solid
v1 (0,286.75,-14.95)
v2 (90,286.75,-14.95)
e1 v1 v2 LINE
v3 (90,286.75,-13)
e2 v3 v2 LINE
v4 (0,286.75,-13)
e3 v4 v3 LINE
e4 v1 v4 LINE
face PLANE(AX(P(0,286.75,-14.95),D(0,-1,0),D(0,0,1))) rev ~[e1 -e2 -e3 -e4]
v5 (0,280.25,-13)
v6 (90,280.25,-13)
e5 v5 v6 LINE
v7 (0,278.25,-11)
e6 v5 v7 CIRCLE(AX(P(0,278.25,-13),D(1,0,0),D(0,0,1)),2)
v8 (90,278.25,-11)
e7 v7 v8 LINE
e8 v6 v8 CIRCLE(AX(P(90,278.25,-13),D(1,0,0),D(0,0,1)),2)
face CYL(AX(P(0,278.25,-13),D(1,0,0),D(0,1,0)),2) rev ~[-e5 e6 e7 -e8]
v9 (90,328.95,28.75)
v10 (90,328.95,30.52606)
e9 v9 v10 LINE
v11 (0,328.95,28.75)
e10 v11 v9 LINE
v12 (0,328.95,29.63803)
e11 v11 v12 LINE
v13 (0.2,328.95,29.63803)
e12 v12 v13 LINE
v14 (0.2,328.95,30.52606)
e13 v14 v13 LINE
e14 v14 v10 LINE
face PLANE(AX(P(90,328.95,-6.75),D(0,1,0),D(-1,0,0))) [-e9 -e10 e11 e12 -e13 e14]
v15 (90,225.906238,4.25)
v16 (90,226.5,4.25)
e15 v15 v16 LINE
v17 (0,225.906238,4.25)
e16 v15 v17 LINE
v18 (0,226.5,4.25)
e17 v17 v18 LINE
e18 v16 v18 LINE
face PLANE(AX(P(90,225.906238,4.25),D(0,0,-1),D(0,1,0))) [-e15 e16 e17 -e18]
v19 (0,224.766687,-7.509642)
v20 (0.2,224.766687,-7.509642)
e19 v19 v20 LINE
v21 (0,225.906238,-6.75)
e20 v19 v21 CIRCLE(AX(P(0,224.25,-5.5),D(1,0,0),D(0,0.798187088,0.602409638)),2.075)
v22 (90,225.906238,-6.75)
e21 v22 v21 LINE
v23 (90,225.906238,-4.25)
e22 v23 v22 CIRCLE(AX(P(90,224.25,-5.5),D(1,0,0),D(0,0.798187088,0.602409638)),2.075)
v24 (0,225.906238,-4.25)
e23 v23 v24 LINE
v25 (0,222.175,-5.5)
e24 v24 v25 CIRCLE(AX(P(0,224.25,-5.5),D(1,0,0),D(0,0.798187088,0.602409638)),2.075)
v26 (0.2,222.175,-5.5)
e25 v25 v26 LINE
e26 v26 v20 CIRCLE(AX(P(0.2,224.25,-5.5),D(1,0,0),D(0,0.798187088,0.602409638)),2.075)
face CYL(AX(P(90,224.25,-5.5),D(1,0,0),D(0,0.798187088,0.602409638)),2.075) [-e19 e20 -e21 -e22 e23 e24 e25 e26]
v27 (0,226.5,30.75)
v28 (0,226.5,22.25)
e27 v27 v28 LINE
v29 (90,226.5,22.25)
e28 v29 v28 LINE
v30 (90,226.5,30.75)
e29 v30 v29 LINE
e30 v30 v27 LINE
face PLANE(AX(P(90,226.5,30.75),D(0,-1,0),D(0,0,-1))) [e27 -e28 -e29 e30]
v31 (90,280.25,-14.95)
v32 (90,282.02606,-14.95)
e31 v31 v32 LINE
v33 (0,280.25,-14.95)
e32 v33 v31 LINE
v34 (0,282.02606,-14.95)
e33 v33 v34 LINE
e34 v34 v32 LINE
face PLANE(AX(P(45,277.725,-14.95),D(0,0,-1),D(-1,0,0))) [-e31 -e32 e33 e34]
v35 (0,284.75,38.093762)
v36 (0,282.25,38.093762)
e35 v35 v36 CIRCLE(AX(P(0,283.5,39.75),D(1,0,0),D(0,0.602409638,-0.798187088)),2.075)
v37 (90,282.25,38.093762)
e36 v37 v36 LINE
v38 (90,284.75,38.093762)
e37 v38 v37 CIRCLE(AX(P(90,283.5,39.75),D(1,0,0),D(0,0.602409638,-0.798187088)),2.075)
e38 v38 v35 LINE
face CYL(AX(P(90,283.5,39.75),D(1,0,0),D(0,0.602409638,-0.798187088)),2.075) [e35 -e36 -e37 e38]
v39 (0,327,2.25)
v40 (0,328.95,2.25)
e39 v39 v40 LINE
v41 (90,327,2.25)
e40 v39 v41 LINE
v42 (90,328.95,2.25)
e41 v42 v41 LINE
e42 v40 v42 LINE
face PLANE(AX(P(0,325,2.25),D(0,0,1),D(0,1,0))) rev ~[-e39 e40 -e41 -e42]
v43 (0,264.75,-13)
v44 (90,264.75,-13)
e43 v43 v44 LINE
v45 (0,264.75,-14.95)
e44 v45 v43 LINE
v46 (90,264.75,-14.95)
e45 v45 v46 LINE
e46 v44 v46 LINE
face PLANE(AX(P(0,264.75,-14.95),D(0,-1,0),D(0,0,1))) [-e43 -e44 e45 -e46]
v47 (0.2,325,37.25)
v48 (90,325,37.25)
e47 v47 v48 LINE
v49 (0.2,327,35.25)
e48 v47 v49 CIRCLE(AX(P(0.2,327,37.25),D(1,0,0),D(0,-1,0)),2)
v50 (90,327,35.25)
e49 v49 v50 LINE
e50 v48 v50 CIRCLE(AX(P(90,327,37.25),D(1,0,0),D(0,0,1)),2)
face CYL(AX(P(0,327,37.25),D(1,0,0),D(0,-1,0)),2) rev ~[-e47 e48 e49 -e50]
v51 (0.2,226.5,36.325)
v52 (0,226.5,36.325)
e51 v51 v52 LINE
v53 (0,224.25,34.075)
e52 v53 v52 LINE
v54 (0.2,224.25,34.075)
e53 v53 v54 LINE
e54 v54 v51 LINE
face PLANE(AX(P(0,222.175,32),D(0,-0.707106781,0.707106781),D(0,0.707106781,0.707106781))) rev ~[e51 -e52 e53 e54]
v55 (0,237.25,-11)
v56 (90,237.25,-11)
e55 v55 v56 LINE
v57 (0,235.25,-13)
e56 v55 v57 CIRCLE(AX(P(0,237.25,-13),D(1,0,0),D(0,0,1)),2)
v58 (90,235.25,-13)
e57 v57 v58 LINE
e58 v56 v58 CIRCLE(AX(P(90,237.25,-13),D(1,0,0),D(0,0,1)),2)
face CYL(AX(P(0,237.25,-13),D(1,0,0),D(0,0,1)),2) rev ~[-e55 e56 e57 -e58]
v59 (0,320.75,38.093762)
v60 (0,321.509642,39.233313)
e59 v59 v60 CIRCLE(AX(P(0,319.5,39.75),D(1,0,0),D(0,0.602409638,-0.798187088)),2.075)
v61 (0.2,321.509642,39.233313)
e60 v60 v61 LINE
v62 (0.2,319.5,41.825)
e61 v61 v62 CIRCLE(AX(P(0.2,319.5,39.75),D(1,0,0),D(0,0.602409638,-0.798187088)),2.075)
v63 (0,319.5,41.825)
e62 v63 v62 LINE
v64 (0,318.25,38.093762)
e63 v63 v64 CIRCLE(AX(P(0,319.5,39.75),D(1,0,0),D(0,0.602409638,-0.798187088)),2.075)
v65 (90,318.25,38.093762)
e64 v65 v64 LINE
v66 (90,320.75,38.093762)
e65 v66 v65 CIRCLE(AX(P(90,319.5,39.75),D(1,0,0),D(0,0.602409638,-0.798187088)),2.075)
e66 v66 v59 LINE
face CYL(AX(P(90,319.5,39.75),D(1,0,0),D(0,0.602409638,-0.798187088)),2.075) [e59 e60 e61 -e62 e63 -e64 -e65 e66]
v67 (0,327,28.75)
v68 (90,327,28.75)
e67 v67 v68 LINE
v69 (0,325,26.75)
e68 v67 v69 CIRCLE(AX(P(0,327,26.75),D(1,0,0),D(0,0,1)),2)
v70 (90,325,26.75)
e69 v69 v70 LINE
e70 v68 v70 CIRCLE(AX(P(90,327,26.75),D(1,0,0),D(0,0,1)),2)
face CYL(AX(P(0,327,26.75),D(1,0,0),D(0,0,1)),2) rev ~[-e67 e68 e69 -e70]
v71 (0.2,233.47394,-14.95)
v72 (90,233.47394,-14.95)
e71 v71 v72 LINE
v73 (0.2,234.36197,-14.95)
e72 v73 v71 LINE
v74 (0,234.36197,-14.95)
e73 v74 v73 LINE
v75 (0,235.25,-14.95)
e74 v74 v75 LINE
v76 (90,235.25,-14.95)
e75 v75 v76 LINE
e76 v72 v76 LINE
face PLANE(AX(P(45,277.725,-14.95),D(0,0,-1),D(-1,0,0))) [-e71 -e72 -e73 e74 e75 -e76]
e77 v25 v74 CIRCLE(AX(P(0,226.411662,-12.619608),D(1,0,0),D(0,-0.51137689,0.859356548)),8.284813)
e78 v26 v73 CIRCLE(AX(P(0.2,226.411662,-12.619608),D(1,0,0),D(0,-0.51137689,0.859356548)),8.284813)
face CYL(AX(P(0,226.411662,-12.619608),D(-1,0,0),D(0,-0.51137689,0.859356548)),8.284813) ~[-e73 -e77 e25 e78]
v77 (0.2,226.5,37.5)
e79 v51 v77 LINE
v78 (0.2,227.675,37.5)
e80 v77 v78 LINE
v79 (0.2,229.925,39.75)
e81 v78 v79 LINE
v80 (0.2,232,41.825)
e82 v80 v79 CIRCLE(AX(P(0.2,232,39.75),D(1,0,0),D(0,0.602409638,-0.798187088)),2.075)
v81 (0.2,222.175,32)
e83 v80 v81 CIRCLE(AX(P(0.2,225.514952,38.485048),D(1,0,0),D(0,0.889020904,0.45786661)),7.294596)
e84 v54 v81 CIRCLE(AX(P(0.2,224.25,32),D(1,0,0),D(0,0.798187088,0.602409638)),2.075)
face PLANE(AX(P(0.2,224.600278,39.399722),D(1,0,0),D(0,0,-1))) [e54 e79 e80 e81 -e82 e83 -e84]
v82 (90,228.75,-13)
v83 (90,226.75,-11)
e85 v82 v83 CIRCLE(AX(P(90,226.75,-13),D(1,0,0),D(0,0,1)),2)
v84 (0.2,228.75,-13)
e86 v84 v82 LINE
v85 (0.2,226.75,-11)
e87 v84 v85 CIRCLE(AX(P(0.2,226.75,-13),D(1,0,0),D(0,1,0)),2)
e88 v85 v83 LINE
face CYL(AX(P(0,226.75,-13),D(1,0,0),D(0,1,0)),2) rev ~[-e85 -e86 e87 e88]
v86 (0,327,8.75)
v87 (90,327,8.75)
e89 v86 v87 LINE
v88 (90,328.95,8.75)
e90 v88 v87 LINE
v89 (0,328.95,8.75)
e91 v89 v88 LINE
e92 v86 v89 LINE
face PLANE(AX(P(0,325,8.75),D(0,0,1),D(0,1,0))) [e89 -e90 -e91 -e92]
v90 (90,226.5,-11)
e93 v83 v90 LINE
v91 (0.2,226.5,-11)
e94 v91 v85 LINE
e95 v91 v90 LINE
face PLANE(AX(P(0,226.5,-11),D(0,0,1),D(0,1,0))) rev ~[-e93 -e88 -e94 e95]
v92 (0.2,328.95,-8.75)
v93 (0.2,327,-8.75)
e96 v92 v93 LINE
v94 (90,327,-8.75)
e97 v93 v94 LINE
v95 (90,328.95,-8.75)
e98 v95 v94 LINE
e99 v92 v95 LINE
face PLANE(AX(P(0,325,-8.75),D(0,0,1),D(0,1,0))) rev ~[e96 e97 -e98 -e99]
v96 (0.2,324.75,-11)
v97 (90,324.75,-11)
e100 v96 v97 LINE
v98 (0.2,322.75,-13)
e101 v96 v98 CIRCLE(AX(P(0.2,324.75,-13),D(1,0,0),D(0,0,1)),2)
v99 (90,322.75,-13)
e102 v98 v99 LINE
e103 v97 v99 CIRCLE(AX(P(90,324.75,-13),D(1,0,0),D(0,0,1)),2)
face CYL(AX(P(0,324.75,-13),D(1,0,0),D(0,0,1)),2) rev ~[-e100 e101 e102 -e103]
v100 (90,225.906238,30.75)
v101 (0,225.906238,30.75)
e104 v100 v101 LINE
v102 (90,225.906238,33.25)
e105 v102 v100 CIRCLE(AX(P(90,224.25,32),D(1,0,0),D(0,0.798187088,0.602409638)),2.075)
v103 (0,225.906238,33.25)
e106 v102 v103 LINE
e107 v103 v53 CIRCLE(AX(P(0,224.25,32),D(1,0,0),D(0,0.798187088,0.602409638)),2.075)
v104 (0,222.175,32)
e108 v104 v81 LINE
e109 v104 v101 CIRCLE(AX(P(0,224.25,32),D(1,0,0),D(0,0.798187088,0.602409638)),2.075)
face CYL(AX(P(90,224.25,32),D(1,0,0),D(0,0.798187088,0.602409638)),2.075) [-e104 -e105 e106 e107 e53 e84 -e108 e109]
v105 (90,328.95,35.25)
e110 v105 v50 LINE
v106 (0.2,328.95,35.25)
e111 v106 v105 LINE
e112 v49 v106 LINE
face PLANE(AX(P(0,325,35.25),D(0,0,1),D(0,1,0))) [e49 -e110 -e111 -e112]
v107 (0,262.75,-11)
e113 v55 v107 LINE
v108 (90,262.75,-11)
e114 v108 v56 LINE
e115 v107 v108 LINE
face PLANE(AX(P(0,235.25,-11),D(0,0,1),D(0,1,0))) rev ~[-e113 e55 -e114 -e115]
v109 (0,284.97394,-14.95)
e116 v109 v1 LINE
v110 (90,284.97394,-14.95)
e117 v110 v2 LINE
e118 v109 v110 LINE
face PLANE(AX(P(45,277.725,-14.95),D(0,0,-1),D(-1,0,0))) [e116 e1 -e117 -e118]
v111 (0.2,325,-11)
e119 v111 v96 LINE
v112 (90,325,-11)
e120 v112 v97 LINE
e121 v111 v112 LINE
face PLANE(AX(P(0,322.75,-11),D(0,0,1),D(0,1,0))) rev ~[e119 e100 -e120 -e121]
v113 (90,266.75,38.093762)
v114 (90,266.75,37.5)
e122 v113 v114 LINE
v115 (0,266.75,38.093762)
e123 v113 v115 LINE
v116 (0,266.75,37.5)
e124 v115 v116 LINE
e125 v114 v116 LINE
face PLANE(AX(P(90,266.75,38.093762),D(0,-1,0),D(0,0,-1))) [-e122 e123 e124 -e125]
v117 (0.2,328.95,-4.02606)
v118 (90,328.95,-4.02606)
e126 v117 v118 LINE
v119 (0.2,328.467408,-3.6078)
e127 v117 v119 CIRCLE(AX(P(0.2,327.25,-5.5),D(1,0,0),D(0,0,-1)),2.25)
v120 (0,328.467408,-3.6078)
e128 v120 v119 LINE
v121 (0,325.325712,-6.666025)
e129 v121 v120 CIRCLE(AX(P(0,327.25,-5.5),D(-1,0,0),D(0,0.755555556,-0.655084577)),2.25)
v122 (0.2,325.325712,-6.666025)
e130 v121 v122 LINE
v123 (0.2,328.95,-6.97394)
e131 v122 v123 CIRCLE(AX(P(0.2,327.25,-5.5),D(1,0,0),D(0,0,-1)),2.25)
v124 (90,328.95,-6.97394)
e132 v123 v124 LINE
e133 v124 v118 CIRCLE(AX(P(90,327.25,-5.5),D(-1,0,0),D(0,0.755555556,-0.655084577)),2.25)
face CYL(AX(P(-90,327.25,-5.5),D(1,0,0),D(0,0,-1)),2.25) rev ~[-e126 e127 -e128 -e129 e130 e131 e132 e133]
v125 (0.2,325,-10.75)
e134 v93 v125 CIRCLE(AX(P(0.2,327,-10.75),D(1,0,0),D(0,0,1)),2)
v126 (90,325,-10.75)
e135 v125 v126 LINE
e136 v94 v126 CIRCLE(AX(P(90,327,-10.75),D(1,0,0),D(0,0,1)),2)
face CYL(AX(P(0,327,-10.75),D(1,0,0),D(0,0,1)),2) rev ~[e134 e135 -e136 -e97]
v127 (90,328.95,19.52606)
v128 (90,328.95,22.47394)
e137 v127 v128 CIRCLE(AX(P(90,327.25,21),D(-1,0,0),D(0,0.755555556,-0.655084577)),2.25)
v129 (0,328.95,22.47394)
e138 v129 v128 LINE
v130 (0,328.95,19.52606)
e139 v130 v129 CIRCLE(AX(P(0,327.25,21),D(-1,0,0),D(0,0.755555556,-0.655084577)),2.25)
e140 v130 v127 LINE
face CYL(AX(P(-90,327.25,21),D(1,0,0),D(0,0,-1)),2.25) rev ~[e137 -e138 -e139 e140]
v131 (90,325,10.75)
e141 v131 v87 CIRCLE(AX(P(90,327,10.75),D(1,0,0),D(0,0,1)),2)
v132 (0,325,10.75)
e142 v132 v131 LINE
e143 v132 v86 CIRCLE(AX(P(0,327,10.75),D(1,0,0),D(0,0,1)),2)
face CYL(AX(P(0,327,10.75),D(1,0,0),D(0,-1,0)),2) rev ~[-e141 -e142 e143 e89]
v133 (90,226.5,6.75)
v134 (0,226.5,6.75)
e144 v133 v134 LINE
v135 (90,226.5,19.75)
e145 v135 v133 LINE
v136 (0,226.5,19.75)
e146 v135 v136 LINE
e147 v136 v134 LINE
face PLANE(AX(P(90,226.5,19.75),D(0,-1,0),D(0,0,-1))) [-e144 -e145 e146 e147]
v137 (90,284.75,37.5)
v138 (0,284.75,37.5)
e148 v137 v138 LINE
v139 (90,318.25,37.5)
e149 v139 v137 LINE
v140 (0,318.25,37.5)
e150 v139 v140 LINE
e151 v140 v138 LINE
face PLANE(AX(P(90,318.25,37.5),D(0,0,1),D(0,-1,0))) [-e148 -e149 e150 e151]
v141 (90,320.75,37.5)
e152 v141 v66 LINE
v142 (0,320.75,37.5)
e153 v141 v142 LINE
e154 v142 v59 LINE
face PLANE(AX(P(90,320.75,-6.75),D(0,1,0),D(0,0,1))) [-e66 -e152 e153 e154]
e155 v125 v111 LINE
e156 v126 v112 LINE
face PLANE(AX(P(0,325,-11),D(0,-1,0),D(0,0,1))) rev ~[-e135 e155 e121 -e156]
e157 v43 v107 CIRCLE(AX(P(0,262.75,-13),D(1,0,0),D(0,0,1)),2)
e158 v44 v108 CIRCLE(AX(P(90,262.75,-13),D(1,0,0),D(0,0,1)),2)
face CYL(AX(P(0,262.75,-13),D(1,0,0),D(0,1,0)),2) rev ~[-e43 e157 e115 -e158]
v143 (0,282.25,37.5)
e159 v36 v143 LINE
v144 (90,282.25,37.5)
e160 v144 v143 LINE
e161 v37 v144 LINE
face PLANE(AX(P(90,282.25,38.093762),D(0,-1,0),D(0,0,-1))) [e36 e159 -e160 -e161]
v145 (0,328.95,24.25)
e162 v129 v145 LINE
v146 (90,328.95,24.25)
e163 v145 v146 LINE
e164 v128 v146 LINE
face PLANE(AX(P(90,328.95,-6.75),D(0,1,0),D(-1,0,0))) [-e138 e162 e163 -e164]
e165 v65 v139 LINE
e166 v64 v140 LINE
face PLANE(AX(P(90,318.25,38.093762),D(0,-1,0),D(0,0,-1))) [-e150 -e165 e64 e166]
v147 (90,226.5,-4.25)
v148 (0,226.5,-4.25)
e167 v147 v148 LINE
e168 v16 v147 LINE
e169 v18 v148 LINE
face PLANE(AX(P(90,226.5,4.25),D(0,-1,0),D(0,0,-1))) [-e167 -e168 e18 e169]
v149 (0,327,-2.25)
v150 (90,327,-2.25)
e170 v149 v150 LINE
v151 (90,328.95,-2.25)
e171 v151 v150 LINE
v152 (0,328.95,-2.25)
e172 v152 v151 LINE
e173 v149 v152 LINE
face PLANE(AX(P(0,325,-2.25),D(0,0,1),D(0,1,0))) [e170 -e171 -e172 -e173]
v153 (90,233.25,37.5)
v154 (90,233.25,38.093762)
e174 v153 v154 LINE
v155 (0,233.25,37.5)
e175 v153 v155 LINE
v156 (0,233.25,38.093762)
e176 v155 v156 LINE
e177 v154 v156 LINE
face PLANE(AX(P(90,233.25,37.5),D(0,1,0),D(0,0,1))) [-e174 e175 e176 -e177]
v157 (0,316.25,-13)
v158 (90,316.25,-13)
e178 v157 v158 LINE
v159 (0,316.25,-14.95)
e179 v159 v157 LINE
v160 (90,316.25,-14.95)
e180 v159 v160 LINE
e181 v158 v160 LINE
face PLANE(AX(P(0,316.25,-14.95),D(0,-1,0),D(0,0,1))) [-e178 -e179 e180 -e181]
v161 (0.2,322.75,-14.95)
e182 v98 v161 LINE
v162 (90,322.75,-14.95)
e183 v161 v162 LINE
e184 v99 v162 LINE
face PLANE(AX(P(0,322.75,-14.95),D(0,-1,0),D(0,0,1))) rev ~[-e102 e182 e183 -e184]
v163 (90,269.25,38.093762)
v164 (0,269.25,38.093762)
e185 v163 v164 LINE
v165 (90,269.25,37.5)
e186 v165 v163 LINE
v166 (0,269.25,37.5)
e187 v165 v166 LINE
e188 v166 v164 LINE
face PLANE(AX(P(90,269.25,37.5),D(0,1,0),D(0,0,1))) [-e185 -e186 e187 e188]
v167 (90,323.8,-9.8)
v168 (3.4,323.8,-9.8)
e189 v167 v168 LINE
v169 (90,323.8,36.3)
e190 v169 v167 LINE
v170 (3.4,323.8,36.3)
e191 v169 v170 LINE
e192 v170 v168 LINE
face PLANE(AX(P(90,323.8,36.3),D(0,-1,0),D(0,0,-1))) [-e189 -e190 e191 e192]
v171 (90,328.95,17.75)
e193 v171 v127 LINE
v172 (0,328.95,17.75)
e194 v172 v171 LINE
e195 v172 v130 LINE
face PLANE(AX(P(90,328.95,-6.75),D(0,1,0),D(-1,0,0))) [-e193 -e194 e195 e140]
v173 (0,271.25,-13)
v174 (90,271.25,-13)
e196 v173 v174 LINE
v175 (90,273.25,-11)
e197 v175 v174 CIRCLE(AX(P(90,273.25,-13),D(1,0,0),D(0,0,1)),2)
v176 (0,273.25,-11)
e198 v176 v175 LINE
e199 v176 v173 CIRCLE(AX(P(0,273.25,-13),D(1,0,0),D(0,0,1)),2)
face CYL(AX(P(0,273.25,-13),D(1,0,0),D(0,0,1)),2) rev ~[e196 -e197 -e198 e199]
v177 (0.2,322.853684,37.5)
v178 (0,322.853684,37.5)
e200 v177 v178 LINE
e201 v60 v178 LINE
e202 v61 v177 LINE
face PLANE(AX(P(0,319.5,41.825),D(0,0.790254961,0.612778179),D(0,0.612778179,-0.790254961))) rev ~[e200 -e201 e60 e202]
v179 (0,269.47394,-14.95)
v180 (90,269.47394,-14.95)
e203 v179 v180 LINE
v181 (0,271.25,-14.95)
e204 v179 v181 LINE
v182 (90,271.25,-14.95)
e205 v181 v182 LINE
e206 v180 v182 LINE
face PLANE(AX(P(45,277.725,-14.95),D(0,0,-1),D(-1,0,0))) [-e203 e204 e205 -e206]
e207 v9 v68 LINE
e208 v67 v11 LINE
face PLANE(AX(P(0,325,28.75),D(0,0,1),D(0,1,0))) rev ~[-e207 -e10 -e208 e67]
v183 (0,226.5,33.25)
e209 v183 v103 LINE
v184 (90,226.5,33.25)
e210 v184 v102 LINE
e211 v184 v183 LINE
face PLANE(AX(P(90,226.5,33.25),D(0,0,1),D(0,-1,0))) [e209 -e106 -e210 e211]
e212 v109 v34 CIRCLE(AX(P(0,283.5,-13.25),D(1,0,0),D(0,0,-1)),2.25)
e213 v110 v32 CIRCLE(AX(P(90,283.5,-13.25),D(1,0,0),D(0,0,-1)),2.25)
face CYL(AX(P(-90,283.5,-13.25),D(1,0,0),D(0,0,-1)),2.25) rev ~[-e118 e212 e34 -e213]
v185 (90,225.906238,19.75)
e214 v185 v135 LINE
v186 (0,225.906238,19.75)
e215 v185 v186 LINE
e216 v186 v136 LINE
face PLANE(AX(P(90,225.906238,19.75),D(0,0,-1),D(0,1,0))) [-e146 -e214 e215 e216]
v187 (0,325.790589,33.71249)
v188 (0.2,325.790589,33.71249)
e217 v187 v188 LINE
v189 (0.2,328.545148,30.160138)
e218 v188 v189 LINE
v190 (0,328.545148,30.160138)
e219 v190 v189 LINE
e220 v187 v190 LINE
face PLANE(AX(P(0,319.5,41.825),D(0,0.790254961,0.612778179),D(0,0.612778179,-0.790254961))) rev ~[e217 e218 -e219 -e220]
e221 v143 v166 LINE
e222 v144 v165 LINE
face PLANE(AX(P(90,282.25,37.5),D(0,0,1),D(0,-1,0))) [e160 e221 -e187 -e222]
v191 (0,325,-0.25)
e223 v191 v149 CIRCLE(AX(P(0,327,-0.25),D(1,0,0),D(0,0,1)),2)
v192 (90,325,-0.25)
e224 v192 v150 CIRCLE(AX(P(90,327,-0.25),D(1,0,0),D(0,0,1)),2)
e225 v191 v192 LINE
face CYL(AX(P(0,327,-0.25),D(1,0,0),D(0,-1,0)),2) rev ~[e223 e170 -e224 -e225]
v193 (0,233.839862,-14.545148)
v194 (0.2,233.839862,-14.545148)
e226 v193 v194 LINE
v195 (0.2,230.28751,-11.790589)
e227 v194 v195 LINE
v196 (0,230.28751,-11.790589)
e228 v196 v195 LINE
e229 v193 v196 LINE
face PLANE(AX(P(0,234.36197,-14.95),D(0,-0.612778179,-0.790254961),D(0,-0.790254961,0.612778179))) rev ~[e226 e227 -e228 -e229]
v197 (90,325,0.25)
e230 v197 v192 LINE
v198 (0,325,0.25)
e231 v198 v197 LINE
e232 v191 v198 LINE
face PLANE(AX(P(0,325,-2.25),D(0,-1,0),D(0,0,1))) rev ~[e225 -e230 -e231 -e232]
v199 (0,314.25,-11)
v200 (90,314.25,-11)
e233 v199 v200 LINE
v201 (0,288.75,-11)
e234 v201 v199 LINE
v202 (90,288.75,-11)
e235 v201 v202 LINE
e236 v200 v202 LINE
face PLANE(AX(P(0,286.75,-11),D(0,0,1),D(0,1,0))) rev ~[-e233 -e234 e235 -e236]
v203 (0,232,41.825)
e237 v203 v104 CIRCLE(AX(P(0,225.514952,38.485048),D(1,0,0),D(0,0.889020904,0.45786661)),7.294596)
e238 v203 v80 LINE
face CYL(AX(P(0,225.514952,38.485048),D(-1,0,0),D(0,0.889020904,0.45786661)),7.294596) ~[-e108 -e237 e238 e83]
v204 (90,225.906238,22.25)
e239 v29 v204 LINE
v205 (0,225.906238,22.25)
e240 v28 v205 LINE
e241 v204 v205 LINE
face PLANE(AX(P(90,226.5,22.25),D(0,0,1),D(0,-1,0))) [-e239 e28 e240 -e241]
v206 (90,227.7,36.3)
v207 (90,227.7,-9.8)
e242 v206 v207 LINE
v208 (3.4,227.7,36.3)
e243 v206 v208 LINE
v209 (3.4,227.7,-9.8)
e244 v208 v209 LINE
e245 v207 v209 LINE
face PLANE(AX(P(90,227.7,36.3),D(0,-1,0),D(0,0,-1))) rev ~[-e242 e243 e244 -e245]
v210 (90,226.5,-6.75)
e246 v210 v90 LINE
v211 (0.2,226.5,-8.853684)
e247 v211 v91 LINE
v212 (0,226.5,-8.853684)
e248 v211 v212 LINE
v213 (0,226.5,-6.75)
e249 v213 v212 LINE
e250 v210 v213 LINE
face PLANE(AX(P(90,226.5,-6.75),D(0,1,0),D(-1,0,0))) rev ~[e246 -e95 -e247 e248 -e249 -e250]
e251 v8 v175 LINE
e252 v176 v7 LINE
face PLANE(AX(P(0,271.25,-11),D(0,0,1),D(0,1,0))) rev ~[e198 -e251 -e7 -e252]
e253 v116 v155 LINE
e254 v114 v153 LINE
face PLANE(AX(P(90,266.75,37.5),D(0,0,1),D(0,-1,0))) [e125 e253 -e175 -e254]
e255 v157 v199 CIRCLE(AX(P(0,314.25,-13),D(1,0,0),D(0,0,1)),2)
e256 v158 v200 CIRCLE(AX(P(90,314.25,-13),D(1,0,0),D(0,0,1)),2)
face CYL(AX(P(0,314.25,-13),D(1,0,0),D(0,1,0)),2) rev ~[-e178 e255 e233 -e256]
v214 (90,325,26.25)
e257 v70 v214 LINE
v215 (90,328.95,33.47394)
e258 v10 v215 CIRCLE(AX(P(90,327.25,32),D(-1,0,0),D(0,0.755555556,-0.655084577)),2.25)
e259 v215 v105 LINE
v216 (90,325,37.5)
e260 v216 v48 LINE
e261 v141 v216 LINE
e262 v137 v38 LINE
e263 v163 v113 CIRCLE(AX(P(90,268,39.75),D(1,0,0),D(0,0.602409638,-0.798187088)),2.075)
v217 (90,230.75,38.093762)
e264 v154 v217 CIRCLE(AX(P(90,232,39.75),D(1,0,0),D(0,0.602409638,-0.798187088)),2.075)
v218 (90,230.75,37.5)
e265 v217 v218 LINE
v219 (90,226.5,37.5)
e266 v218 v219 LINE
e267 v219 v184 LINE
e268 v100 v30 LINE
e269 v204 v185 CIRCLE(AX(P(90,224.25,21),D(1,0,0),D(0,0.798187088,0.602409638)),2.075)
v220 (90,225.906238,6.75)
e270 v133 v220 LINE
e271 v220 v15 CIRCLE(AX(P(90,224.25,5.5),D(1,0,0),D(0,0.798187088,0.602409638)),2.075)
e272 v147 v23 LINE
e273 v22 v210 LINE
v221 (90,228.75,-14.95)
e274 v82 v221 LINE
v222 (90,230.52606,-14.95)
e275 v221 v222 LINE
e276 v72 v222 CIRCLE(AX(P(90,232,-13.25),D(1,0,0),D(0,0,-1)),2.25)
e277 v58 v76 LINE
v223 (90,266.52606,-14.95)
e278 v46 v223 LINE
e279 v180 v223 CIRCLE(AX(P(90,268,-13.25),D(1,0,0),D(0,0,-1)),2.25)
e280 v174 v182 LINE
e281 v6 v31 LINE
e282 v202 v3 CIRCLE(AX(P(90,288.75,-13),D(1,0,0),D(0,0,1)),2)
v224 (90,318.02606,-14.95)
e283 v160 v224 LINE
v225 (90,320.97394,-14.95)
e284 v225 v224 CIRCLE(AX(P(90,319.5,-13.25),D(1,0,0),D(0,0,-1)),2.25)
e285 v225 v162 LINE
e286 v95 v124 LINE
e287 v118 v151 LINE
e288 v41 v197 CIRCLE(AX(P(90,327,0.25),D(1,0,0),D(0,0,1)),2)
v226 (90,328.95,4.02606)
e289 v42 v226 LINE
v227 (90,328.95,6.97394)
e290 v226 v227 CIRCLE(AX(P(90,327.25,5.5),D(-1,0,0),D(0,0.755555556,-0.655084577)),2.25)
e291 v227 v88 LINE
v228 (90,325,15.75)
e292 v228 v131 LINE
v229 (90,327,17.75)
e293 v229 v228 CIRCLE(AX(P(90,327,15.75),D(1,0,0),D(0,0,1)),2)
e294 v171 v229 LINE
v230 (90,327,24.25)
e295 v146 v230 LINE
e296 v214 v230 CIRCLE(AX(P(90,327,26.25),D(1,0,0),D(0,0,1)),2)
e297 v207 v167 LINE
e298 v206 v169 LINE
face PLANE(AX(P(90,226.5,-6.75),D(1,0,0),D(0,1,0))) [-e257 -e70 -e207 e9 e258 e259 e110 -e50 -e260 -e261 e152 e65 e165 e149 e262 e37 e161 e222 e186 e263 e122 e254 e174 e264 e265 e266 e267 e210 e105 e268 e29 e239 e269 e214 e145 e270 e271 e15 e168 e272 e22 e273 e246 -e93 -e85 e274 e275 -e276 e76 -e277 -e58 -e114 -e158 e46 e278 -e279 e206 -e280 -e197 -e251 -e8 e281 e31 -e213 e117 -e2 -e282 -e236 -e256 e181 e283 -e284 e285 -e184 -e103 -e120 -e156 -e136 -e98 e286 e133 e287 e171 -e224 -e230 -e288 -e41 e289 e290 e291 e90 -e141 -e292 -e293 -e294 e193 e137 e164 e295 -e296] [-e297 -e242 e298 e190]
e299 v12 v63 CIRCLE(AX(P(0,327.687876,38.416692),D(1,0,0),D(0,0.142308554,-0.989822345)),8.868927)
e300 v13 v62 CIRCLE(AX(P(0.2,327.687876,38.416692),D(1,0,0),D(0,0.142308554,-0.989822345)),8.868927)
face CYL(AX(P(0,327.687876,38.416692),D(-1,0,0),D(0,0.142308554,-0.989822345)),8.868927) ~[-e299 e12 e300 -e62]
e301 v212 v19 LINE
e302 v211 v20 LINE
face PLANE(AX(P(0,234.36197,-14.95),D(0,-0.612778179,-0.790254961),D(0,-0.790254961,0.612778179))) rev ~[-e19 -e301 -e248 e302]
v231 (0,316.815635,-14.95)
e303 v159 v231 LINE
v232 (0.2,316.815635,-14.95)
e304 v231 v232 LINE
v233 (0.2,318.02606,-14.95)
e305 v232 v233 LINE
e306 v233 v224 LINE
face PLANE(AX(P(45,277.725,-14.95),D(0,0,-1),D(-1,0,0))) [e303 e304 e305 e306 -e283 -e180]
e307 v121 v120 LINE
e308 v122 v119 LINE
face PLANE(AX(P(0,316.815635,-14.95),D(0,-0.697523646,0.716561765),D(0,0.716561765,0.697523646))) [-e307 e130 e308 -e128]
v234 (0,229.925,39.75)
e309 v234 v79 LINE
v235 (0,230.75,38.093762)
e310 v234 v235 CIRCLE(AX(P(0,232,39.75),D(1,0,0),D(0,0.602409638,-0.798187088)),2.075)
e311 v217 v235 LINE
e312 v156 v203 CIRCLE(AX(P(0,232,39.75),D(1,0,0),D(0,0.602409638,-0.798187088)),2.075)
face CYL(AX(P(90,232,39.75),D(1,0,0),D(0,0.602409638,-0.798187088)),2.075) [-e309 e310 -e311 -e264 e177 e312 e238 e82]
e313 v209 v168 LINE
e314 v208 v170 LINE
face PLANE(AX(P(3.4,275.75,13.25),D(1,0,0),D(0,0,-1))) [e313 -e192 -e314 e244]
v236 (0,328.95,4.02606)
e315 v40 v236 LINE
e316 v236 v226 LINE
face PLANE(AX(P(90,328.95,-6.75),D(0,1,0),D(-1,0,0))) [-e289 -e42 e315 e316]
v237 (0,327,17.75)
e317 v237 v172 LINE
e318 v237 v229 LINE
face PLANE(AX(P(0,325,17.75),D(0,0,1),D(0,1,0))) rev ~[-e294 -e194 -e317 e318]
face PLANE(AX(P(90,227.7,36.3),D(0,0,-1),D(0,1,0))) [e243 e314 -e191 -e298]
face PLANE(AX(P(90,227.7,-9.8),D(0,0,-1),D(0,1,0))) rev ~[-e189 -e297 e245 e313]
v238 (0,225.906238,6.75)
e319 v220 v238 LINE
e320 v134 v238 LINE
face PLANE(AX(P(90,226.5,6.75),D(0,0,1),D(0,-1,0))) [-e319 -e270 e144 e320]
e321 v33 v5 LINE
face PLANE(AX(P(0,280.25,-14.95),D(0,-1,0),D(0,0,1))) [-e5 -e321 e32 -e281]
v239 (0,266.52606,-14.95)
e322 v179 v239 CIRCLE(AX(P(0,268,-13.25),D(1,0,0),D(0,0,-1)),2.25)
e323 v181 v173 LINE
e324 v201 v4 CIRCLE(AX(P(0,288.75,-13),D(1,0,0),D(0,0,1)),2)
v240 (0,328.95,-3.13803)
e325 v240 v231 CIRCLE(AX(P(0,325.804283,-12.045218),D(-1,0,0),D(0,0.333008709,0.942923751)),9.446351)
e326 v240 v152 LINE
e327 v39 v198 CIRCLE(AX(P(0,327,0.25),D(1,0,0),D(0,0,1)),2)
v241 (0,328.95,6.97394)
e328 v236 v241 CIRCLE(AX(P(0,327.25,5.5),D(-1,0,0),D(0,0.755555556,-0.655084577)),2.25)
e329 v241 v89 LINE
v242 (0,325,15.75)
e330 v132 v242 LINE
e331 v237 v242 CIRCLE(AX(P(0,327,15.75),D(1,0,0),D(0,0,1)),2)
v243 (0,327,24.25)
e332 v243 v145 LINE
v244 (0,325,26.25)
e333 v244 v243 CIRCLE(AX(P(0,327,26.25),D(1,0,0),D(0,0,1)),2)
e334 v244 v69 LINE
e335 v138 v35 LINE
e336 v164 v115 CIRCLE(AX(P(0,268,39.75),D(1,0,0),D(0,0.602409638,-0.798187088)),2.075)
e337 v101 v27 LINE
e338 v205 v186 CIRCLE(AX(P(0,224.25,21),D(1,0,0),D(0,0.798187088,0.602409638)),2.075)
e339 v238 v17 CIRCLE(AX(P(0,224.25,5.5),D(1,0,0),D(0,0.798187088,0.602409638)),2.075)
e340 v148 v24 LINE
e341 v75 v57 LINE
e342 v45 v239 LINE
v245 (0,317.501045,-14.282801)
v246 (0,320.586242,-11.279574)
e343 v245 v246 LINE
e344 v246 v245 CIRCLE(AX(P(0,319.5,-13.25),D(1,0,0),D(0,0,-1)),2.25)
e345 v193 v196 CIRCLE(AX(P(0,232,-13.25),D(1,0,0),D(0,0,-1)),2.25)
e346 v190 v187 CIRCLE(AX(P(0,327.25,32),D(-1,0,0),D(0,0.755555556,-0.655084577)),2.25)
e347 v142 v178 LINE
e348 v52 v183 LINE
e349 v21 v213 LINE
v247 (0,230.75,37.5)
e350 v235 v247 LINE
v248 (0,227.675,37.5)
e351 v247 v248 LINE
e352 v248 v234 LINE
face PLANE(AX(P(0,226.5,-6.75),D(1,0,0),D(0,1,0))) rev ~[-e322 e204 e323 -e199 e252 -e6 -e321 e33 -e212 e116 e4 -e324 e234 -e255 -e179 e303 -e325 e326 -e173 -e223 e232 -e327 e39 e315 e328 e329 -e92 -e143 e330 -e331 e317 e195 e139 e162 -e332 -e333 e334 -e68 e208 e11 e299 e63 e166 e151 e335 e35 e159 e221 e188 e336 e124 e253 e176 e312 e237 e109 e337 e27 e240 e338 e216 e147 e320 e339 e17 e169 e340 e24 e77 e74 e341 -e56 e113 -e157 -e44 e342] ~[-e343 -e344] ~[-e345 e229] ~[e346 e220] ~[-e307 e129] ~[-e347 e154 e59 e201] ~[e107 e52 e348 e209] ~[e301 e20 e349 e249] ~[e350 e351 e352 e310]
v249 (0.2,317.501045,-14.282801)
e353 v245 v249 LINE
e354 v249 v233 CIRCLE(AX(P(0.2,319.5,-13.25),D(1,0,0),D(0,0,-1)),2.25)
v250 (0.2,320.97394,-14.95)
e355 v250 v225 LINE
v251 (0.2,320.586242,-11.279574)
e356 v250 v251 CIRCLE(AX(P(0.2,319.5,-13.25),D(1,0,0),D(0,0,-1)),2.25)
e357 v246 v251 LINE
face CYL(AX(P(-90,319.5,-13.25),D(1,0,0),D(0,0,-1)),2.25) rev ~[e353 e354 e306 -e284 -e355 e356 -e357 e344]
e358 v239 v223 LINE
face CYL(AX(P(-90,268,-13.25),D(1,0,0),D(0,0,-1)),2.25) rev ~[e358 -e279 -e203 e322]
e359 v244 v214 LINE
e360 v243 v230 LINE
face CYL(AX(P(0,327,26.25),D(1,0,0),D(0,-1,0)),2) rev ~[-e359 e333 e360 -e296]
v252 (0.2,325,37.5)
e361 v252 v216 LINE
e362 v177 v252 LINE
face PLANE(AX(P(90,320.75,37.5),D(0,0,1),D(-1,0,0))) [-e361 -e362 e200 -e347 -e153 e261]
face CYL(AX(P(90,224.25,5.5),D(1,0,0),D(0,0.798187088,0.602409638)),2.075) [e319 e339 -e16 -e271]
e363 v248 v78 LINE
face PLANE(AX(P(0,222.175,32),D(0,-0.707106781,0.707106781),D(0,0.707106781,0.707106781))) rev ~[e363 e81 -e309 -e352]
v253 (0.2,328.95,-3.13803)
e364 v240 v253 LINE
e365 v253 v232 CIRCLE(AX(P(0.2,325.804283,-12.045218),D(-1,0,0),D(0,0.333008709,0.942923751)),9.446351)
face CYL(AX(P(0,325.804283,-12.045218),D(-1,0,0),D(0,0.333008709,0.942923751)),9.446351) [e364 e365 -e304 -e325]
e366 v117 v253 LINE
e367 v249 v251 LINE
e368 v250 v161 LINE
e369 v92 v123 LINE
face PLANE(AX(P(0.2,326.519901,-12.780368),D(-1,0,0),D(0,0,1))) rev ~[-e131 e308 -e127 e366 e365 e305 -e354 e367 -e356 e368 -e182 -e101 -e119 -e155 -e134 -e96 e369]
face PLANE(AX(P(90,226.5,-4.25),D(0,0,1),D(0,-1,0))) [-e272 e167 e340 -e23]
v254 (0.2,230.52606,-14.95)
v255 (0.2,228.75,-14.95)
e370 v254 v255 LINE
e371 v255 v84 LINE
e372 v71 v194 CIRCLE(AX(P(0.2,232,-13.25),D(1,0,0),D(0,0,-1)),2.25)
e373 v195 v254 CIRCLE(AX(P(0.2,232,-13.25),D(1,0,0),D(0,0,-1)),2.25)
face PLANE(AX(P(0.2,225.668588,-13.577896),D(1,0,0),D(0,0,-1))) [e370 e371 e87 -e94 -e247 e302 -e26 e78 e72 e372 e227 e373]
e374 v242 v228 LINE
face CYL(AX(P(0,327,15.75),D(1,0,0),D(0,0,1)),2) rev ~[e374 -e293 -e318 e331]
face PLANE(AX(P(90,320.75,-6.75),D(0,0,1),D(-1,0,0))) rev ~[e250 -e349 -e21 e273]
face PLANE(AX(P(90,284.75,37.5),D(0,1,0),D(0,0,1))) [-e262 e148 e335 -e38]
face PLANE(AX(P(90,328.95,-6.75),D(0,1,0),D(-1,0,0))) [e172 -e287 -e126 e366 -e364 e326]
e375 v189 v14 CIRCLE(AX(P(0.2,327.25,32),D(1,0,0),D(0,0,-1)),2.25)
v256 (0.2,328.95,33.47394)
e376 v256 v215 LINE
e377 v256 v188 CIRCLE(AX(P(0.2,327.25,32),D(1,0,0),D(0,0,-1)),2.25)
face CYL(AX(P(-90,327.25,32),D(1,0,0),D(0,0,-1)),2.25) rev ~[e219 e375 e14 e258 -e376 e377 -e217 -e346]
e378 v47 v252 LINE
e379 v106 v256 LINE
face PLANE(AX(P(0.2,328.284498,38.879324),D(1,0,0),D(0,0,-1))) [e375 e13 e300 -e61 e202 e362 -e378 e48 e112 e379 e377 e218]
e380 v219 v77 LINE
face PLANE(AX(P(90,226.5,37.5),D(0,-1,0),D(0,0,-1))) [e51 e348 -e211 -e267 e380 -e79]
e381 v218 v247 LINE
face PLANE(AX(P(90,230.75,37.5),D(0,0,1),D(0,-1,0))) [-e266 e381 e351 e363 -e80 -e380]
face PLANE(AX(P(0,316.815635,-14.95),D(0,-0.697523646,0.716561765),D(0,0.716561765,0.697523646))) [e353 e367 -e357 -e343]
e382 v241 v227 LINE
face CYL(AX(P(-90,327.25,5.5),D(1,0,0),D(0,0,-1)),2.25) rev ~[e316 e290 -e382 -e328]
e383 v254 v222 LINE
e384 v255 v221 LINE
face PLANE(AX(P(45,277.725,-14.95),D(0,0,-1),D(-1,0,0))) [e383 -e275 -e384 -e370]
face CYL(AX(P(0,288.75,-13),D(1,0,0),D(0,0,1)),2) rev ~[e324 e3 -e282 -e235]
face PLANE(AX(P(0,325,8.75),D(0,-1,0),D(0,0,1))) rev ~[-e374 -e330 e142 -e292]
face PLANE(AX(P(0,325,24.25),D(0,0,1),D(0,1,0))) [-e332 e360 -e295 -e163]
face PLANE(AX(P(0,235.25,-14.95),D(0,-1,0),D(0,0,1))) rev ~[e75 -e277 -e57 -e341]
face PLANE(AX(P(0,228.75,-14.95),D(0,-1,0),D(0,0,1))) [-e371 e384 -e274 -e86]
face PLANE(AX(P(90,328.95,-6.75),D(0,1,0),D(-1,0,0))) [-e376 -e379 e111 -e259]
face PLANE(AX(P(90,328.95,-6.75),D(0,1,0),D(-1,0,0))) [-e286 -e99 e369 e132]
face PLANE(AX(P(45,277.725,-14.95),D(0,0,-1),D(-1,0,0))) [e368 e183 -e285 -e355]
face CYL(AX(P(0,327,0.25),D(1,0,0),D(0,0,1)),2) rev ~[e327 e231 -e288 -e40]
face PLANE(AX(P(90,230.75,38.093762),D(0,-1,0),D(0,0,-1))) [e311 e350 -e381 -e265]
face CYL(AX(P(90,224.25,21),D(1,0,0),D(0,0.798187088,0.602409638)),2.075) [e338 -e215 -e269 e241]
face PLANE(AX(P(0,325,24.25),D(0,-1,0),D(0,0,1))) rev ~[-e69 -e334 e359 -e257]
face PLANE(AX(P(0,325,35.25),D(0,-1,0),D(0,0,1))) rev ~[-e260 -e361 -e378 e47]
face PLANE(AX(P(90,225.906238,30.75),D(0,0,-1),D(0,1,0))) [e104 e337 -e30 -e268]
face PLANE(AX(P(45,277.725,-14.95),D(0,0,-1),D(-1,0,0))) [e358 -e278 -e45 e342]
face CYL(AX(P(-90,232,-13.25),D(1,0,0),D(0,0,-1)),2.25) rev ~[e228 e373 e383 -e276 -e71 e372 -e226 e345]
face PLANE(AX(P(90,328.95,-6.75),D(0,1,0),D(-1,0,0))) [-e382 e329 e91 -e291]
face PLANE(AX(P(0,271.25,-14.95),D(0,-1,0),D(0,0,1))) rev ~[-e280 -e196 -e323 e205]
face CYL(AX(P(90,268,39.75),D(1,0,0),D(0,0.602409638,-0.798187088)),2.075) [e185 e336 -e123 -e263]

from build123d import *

# Parameters (mm, degrees)
EXTRUDE_1_DEPTH             = 90
SKETCH_2_W                  = 90
SKETCH_2_H                  = 44.25
EXTRUDE_2_DEPTH             = 8.2
SKETCH_3_W                  = 90
SKETCH_3_H                  = 102.45
EXTRUDE_3_DEPTH             = 8.2
SKETCH_4_W                  = 4.5
SKETCH_4_H                  = 3.95
CUT_EXTRUDE_1_DEPTH         = 91
SKETCH_5_W                  = 2.25
SKETCH_5_H                  = 3.95
CUT_EXTRUDE_2_DEPTH         = 91
SKETCH_6_W                  = 3.95
SKETCH_6_H                  = 2.25
CUT_EXTRUDE_3_DEPTH         = 91
SKETCH_7_W                  = 3.95
SKETCH_7_H                  = 29.5
CUT_EXTRUDE_4_DEPTH         = 91
SKETCH_8_W                  = 3.95
SKETCH_8_H                  = 9
CUT_EXTRUDE_5_DEPTH         = 91
SKETCH_9_W                  = 3.95
SKETCH_9_H                  = 29.5
CUT_EXTRUDE_6_DEPTH         = 91
SKETCH_10_W                 = 3.95
SKETCH_10_H                 = 6.2
CUT_EXTRUDE_7_DEPTH         = 91
SKETCH_11_W                 = 2.25
SKETCH_11_H                 = 3.95
CUT_EXTRUDE_8_DEPTH         = 91
SKETCH_12_W                 = 4.5
SKETCH_12_H                 = 3.95
CUT_EXTRUDE_9_DEPTH         = 91
SKETCH_13_W                 = 9
SKETCH_13_H                 = 3.95
CUT_EXTRUDE_10_DEPTH        = 91
SKETCH_14_W                 = 46.1
SKETCH_14_H                 = 96.1
CUT_EXTRUDE_11_DEPTH        = 86.6
HOLE_WIZARD_2_5_2_5_1_D     = 2.5
HOLE_WIZARD_2_5_2_5_1_DEPTH = 90
HOLE_WIZARD_4_5_4_5_1_D     = 4.5
HOLE_WIZARD_4_5_4_5_1_DEPTH = 90
SKETCH_22_R                 = 1.631577579
SKETCH_22_R_2               = 1.519375383
SKETCH_22_R_3               = 1.487580747
SKETCH_22_R_4               = 1.581735942
SKETCH_22_R_5               = 1.487835557
SKETCH_22_R_6               = 1.42600834
SKETCH_22_R_7               = 1.628129915
SKETCH_22_R_8               = 1.52367125
EXTRUDE_4_DEPTH             = 90
FILLET_5_R                  = 2
FILLET_6_R                  = 2
FILLET_7_R                  = 2
FILLET_8_R                  = 2
FILLET_9_R                  = 2
FILLET_10_R                 = 2
FILLET_11_R                 = 2
FILLET_12_R                 = 2
FILLET_13_R                 = 2
FILLET_14_R                 = 2
FILLET_15_R                 = 2
FILLET_16_R                 = 2
FILLET_17_R                 = 2
FILLET_18_R                 = 2
FILLET_19_R                 = 2
FILLET_20_R                 = 2
EXTRUDE_6_DEPTH             = 0.2


with BuildPart() as part:
    # Эскиз1 → Бобышка-Вытянуть1 (new body)
    with BuildSketch(Plane(origin=(90, 0, 0), x_dir=(0, 0, -1), z_dir=(1, 0, 0))):
        with BuildLine():
            Line((6.75, 225.906238208), (6.75, 320.75))
            Line((6.75, 320.75), (-38.093761792, 320.75))
            ThreePointArc((-38.093761792, 320.75), (-41.825, 319.5), (-38.093761792, 318.25))
            Line((-38.093761792, 318.25), (-37.5, 318.25))
            Line((-37.5, 318.25), (-37.5, 284.75))
            Line((-37.5, 284.75), (-38.093761792, 284.75))
            ThreePointArc((-38.093761792, 284.75), (-41.825, 283.5), (-38.093761792, 282.25))
            Line((-38.093761792, 282.25), (-37.5, 282.25))
            Line((-37.5, 282.25), (-37.5, 269.25))
            Line((-37.5, 269.25), (-38.093761792, 269.25))
            ThreePointArc((-38.093761792, 269.25), (-41.825, 268), (-38.093761792, 266.75))
            Line((-38.093761792, 266.75), (-37.5, 266.75))
            Line((-37.5, 266.75), (-37.5, 233.25))
            Line((-37.5, 233.25), (-38.093761792, 233.25))
            ThreePointArc((-38.093761792, 233.25), (-41.825, 232), (-38.093761792, 230.75))
            Line((-38.093761792, 230.75), (-37.5, 230.75))
            Line((-37.5, 230.75), (-37.5, 226.5))
            Line((-37.5, 226.5), (-33.25, 226.5))
            Line((-33.25, 226.5), (-33.25, 225.906238208))
            ThreePointArc((-33.25, 225.906238208), (-32, 222.175), (-30.75, 225.906238208))
            Line((-30.75, 225.906238208), (-30.75, 226.5))
            Line((-30.75, 226.5), (-22.25, 226.5))
            Line((-22.25, 226.5), (-22.25, 225.906238208))
            ThreePointArc((-22.25, 225.906238208), (-21, 222.175), (-19.75, 225.906238208))
            Line((-19.75, 225.906238208), (-19.75, 226.5))
            Line((-19.75, 226.5), (-6.75, 226.5))
            Line((-6.75, 226.5), (-6.75, 225.906238208))
            ThreePointArc((-6.75, 225.906238208), (-5.5, 222.175), (-4.25, 225.906238208))
            Line((-4.25, 225.906238208), (-4.25, 226.5))
            Line((-4.25, 226.5), (4.25, 226.5))
            Line((4.25, 226.5), (4.25, 225.906238208))
            ThreePointArc((4.25, 225.906238208), (5.5, 222.175), (6.75, 225.906238208))
        make_face()
    extrude(amount=-EXTRUDE_1_DEPTH)

    # Эскиз2 → Бобышка-Вытянуть2 (add)
    with BuildSketch(Plane(origin=(0, 320.75, 0), x_dir=(-1, 0, 0), z_dir=(0, 1, 0))):
        with Locations((-45, 15.375)):
            Rectangle(SKETCH_2_W, SKETCH_2_H)
    extrude(amount=EXTRUDE_2_DEPTH)

    # Эскиз3 → Бобышка-Вытянуть3 (add)
    with BuildSketch(Plane(origin=(0, 0, -6.75), x_dir=(-1, 0, 0), z_dir=(0, 0, -1))):
        with Locations((-45, 277.725)):
            Rectangle(SKETCH_3_W, SKETCH_3_H)
    extrude(amount=EXTRUDE_3_DEPTH)

    # Эскиз4 → Вырез-Вытянуть1 (cut, through all)
    with BuildSketch(Plane.ZY):
        with Locations((26.5, 326.975)):
            Rectangle(SKETCH_4_W, SKETCH_4_H)
    extrude(amount=-CUT_EXTRUDE_1_DEPTH, mode=Mode.SUBTRACT)

    # Эскиз5 → Вырез-Вытянуть2 (cut, through all)
    with BuildSketch(Plane.ZY):
        with Locations((36.375, 326.975)):
            Rectangle(SKETCH_5_W, SKETCH_5_H)
    extrude(amount=-CUT_EXTRUDE_2_DEPTH, mode=Mode.SUBTRACT)

    # Эскиз6 → Вырез-Вытянуть3 (cut, through all)
    with BuildSketch(Plane.ZY):
        with Locations((-12.975, 227.625)):
            Rectangle(SKETCH_6_W, SKETCH_6_H)
    extrude(amount=-CUT_EXTRUDE_3_DEPTH, mode=Mode.SUBTRACT)

    # Эскиз7 → Вырез-Вытянуть4 (cut, through all)
    with BuildSketch(Plane.ZY):
        with Locations((-12.975, 250)):
            Rectangle(SKETCH_7_W, SKETCH_7_H)
    extrude(amount=-CUT_EXTRUDE_4_DEPTH, mode=Mode.SUBTRACT)

    # Эскиз8 → Вырез-Вытянуть5 (cut, through all)
    with BuildSketch(Plane.ZY):
        with Locations((-12.975, 275.75)):
            Rectangle(SKETCH_8_W, SKETCH_8_H)
    extrude(amount=-CUT_EXTRUDE_5_DEPTH, mode=Mode.SUBTRACT)

    # Эскиз9 → Вырез-Вытянуть6 (cut, through all)
    with BuildSketch(Plane.ZY):
        with Locations((-12.975, 301.5)):
            Rectangle(SKETCH_9_W, SKETCH_9_H)
    extrude(amount=-CUT_EXTRUDE_6_DEPTH, mode=Mode.SUBTRACT)

    # Эскиз10 → Вырез-Вытянуть7 (cut, through all)
    with BuildSketch(Plane.ZY):
        with Locations((-12.975, 325.85)):
            Rectangle(SKETCH_10_W, SKETCH_10_H)
    extrude(amount=-CUT_EXTRUDE_7_DEPTH, mode=Mode.SUBTRACT)

    # Эскиз11 → Вырез-Вытянуть8 (cut, through all)
    with BuildSketch(Plane.ZY):
        with Locations((-9.875, 326.975)):
            Rectangle(SKETCH_11_W, SKETCH_11_H)
    extrude(amount=-CUT_EXTRUDE_8_DEPTH, mode=Mode.SUBTRACT)

    # Эскиз12 → Вырез-Вытянуть9 (cut, through all)
    with BuildSketch(Plane.ZY):
        with Locations((0, 326.975)):
            Rectangle(SKETCH_12_W, SKETCH_12_H)
    extrude(amount=-CUT_EXTRUDE_9_DEPTH, mode=Mode.SUBTRACT)

    # Эскиз13 → Вырез-Вытянуть10 (cut, through all)
    with BuildSketch(Plane.ZY):
        with Locations((13.25, 326.975)):
            Rectangle(SKETCH_13_W, SKETCH_13_H)
    extrude(amount=-CUT_EXTRUDE_10_DEPTH, mode=Mode.SUBTRACT)

    # Эскиз14 → Вырез-Вытянуть11 (cut)
    with BuildSketch(Plane(origin=(90, 0, 0), x_dir=(0, 0, -1), z_dir=(1, 0, 0))):
        with Locations((-13.25, 275.75)):
            Rectangle(SKETCH_14_W, SKETCH_14_H)
    extrude(amount=-CUT_EXTRUDE_11_DEPTH, mode=Mode.SUBTRACT)

    # Диаметр отверстия Ø2.5 (2.5)1
    with Locations(Plane(origin=(90, 0, 0), x_dir=(0, 0, -1), z_dir=(1, 0, 0))):
        with Locations((-39.75, 232), (-21, 224.25), (-39.75, 283.5), (-5.5, 224.25), (5.5, 224.25), (-39.75, 319.5), (-39.75, 268), (-32, 224.25)):
            Hole(HOLE_WIZARD_2_5_2_5_1_D / 2, depth=HOLE_WIZARD_2_5_2_5_1_DEPTH)

    # Диаметр отверстия Ø4.5 (4.5)1
    with Locations(Plane.ZY):
        with Locations((21, 327.25), (32, 327.25), (-13.25, 232), (-13.25, 268), (-13.25, 283.5), (-13.25, 319.5), (-5.5, 327.25), (5.5, 327.25)):
            Hole(HOLE_WIZARD_4_5_4_5_1_D / 2, depth=HOLE_WIZARD_4_5_4_5_1_DEPTH)

    # Эскиз22 → Бобышка-Вытянуть4 (add)
    with BuildSketch(Plane(origin=(90, 0, 0), x_dir=(0, 0, -1), z_dir=(1, 0, 0))):
        with Locations((-39.75, 319.5)):
            Circle(SKETCH_22_R)
        with Locations((-39.75, 283.5)):
            Circle(SKETCH_22_R_2)
        with Locations((-39.75, 268)):
            Circle(SKETCH_22_R_3)
        with Locations((-39.75, 232)):
            Circle(SKETCH_22_R_4)
        with Locations((-32, 224.25)):
            Circle(SKETCH_22_R_5)
        with Locations((-21, 224.25)):
            Circle(SKETCH_22_R_6)
        with Locations((-5.5, 224.25)):
            Circle(SKETCH_22_R_7)
        with Locations((5.5, 224.25)):
            Circle(SKETCH_22_R_8)
    extrude(amount=-EXTRUDE_4_DEPTH)

    # Скругление5
    fillet_5_edges = [part.edges().sort_by_distance(p)[0] for p in [
        (45, 325, 35.25),
    ]]
    fillet(fillet_5_edges, radius=FILLET_5_R)

    # Скругление6
    fillet_6_edges = [part.edges().sort_by_distance(p)[0] for p in [
        (45, 325, 28.75),
    ]]
    fillet(fillet_6_edges, radius=FILLET_6_R)

    # Скругление7
    fillet_7_edges = [part.edges().sort_by_distance(p)[0] for p in [
        (45, 325, 24.25),
    ]]
    fillet(fillet_7_edges, radius=FILLET_7_R)

    # Скругление8
    fillet_8_edges = [part.edges().sort_by_distance(p)[0] for p in [
        (45, 325, 17.75),
    ]]
    fillet(fillet_8_edges, radius=FILLET_8_R)

    # Скругление9
    fillet_9_edges = [part.edges().sort_by_distance(p)[0] for p in [
        (45, 325, 8.75),
    ]]
    fillet(fillet_9_edges, radius=FILLET_9_R)

    # Скругление10
    fillet_10_edges = [part.edges().sort_by_distance(p)[0] for p in [
        (45, 325, 2.25),
    ]]
    fillet(fillet_10_edges, radius=FILLET_10_R)

    # Скругление11
    fillet_11_edges = [part.edges().sort_by_distance(p)[0] for p in [
        (45, 325, -2.25),
    ]]
    fillet(fillet_11_edges, radius=FILLET_11_R)

    # Скругление12
    fillet_12_edges = [part.edges().sort_by_distance(p)[0] for p in [
        (45, 325, -8.75),
    ]]
    fillet(fillet_12_edges, radius=FILLET_12_R)

    # Скругление13
    fillet_13_edges = [part.edges().sort_by_distance(p)[0] for p in [
        (45, 322.75, -11),
    ]]
    fillet(fillet_13_edges, radius=FILLET_13_R)

    # Скругление14
    fillet_14_edges = [part.edges().sort_by_distance(p)[0] for p in [
        (45, 316.25, -11),
    ]]
    fillet(fillet_14_edges, radius=FILLET_14_R)

    # Скругление15
    fillet_15_edges = [part.edges().sort_by_distance(p)[0] for p in [
        (45, 286.75, -11),
    ]]
    fillet(fillet_15_edges, radius=FILLET_15_R)

    # Скругление16
    fillet_16_edges = [part.edges().sort_by_distance(p)[0] for p in [
        (45, 280.25, -11),
    ]]
    fillet(fillet_16_edges, radius=FILLET_16_R)

    # Скругление17
    fillet_17_edges = [part.edges().sort_by_distance(p)[0] for p in [
        (45, 271.25, -11),
    ]]
    fillet(fillet_17_edges, radius=FILLET_17_R)

    # Скругление18
    fillet_18_edges = [part.edges().sort_by_distance(p)[0] for p in [
        (45, 264.75, -11),
    ]]
    fillet(fillet_18_edges, radius=FILLET_18_R)

    # Скругление19
    fillet_19_edges = [part.edges().sort_by_distance(p)[0] for p in [
        (45, 235.25, -11),
    ]]
    fillet(fillet_19_edges, radius=FILLET_19_R)

    # Скругление20
    fillet_20_edges = [part.edges().sort_by_distance(p)[0] for p in [
        (45, 228.75, -11),
    ]]
    fillet(fillet_20_edges, radius=FILLET_20_R)

    # Эскиз23 → Бобышка-Вытянуть6 (add)
    with BuildSketch(Plane.ZY):
        with BuildLine():
            Line((-14.95, 316.81563549), (-3.138029851, 328.95))
            ThreePointArc((-3.138029851, 328.95), (-18.81411193, 332.393335916), (-14.95, 316.81563549))
        make_face()
        with BuildLine():
            Line((41.825, 319.5), (29.638029851, 328.95))
            ThreePointArc((29.638029851, 328.95), (43.851377387, 334.69658957), (41.825, 319.5))
        make_face()
        with BuildLine():
            Line((-14.95, 234.361970149), (-5.5, 222.175))
            ThreePointArc((-5.5, 222.175), (-19.166722881, 221.33490928), (-14.95, 234.361970149))
        make_face()
        with BuildLine():
            Line((32, 222.175), (41.825, 232))
            ThreePointArc((41.825, 232), (43.643106303, 220.356893697), (32, 222.175))
        make_face()
    extrude(amount=-EXTRUDE_6_DEPTH)


solid = part.part
